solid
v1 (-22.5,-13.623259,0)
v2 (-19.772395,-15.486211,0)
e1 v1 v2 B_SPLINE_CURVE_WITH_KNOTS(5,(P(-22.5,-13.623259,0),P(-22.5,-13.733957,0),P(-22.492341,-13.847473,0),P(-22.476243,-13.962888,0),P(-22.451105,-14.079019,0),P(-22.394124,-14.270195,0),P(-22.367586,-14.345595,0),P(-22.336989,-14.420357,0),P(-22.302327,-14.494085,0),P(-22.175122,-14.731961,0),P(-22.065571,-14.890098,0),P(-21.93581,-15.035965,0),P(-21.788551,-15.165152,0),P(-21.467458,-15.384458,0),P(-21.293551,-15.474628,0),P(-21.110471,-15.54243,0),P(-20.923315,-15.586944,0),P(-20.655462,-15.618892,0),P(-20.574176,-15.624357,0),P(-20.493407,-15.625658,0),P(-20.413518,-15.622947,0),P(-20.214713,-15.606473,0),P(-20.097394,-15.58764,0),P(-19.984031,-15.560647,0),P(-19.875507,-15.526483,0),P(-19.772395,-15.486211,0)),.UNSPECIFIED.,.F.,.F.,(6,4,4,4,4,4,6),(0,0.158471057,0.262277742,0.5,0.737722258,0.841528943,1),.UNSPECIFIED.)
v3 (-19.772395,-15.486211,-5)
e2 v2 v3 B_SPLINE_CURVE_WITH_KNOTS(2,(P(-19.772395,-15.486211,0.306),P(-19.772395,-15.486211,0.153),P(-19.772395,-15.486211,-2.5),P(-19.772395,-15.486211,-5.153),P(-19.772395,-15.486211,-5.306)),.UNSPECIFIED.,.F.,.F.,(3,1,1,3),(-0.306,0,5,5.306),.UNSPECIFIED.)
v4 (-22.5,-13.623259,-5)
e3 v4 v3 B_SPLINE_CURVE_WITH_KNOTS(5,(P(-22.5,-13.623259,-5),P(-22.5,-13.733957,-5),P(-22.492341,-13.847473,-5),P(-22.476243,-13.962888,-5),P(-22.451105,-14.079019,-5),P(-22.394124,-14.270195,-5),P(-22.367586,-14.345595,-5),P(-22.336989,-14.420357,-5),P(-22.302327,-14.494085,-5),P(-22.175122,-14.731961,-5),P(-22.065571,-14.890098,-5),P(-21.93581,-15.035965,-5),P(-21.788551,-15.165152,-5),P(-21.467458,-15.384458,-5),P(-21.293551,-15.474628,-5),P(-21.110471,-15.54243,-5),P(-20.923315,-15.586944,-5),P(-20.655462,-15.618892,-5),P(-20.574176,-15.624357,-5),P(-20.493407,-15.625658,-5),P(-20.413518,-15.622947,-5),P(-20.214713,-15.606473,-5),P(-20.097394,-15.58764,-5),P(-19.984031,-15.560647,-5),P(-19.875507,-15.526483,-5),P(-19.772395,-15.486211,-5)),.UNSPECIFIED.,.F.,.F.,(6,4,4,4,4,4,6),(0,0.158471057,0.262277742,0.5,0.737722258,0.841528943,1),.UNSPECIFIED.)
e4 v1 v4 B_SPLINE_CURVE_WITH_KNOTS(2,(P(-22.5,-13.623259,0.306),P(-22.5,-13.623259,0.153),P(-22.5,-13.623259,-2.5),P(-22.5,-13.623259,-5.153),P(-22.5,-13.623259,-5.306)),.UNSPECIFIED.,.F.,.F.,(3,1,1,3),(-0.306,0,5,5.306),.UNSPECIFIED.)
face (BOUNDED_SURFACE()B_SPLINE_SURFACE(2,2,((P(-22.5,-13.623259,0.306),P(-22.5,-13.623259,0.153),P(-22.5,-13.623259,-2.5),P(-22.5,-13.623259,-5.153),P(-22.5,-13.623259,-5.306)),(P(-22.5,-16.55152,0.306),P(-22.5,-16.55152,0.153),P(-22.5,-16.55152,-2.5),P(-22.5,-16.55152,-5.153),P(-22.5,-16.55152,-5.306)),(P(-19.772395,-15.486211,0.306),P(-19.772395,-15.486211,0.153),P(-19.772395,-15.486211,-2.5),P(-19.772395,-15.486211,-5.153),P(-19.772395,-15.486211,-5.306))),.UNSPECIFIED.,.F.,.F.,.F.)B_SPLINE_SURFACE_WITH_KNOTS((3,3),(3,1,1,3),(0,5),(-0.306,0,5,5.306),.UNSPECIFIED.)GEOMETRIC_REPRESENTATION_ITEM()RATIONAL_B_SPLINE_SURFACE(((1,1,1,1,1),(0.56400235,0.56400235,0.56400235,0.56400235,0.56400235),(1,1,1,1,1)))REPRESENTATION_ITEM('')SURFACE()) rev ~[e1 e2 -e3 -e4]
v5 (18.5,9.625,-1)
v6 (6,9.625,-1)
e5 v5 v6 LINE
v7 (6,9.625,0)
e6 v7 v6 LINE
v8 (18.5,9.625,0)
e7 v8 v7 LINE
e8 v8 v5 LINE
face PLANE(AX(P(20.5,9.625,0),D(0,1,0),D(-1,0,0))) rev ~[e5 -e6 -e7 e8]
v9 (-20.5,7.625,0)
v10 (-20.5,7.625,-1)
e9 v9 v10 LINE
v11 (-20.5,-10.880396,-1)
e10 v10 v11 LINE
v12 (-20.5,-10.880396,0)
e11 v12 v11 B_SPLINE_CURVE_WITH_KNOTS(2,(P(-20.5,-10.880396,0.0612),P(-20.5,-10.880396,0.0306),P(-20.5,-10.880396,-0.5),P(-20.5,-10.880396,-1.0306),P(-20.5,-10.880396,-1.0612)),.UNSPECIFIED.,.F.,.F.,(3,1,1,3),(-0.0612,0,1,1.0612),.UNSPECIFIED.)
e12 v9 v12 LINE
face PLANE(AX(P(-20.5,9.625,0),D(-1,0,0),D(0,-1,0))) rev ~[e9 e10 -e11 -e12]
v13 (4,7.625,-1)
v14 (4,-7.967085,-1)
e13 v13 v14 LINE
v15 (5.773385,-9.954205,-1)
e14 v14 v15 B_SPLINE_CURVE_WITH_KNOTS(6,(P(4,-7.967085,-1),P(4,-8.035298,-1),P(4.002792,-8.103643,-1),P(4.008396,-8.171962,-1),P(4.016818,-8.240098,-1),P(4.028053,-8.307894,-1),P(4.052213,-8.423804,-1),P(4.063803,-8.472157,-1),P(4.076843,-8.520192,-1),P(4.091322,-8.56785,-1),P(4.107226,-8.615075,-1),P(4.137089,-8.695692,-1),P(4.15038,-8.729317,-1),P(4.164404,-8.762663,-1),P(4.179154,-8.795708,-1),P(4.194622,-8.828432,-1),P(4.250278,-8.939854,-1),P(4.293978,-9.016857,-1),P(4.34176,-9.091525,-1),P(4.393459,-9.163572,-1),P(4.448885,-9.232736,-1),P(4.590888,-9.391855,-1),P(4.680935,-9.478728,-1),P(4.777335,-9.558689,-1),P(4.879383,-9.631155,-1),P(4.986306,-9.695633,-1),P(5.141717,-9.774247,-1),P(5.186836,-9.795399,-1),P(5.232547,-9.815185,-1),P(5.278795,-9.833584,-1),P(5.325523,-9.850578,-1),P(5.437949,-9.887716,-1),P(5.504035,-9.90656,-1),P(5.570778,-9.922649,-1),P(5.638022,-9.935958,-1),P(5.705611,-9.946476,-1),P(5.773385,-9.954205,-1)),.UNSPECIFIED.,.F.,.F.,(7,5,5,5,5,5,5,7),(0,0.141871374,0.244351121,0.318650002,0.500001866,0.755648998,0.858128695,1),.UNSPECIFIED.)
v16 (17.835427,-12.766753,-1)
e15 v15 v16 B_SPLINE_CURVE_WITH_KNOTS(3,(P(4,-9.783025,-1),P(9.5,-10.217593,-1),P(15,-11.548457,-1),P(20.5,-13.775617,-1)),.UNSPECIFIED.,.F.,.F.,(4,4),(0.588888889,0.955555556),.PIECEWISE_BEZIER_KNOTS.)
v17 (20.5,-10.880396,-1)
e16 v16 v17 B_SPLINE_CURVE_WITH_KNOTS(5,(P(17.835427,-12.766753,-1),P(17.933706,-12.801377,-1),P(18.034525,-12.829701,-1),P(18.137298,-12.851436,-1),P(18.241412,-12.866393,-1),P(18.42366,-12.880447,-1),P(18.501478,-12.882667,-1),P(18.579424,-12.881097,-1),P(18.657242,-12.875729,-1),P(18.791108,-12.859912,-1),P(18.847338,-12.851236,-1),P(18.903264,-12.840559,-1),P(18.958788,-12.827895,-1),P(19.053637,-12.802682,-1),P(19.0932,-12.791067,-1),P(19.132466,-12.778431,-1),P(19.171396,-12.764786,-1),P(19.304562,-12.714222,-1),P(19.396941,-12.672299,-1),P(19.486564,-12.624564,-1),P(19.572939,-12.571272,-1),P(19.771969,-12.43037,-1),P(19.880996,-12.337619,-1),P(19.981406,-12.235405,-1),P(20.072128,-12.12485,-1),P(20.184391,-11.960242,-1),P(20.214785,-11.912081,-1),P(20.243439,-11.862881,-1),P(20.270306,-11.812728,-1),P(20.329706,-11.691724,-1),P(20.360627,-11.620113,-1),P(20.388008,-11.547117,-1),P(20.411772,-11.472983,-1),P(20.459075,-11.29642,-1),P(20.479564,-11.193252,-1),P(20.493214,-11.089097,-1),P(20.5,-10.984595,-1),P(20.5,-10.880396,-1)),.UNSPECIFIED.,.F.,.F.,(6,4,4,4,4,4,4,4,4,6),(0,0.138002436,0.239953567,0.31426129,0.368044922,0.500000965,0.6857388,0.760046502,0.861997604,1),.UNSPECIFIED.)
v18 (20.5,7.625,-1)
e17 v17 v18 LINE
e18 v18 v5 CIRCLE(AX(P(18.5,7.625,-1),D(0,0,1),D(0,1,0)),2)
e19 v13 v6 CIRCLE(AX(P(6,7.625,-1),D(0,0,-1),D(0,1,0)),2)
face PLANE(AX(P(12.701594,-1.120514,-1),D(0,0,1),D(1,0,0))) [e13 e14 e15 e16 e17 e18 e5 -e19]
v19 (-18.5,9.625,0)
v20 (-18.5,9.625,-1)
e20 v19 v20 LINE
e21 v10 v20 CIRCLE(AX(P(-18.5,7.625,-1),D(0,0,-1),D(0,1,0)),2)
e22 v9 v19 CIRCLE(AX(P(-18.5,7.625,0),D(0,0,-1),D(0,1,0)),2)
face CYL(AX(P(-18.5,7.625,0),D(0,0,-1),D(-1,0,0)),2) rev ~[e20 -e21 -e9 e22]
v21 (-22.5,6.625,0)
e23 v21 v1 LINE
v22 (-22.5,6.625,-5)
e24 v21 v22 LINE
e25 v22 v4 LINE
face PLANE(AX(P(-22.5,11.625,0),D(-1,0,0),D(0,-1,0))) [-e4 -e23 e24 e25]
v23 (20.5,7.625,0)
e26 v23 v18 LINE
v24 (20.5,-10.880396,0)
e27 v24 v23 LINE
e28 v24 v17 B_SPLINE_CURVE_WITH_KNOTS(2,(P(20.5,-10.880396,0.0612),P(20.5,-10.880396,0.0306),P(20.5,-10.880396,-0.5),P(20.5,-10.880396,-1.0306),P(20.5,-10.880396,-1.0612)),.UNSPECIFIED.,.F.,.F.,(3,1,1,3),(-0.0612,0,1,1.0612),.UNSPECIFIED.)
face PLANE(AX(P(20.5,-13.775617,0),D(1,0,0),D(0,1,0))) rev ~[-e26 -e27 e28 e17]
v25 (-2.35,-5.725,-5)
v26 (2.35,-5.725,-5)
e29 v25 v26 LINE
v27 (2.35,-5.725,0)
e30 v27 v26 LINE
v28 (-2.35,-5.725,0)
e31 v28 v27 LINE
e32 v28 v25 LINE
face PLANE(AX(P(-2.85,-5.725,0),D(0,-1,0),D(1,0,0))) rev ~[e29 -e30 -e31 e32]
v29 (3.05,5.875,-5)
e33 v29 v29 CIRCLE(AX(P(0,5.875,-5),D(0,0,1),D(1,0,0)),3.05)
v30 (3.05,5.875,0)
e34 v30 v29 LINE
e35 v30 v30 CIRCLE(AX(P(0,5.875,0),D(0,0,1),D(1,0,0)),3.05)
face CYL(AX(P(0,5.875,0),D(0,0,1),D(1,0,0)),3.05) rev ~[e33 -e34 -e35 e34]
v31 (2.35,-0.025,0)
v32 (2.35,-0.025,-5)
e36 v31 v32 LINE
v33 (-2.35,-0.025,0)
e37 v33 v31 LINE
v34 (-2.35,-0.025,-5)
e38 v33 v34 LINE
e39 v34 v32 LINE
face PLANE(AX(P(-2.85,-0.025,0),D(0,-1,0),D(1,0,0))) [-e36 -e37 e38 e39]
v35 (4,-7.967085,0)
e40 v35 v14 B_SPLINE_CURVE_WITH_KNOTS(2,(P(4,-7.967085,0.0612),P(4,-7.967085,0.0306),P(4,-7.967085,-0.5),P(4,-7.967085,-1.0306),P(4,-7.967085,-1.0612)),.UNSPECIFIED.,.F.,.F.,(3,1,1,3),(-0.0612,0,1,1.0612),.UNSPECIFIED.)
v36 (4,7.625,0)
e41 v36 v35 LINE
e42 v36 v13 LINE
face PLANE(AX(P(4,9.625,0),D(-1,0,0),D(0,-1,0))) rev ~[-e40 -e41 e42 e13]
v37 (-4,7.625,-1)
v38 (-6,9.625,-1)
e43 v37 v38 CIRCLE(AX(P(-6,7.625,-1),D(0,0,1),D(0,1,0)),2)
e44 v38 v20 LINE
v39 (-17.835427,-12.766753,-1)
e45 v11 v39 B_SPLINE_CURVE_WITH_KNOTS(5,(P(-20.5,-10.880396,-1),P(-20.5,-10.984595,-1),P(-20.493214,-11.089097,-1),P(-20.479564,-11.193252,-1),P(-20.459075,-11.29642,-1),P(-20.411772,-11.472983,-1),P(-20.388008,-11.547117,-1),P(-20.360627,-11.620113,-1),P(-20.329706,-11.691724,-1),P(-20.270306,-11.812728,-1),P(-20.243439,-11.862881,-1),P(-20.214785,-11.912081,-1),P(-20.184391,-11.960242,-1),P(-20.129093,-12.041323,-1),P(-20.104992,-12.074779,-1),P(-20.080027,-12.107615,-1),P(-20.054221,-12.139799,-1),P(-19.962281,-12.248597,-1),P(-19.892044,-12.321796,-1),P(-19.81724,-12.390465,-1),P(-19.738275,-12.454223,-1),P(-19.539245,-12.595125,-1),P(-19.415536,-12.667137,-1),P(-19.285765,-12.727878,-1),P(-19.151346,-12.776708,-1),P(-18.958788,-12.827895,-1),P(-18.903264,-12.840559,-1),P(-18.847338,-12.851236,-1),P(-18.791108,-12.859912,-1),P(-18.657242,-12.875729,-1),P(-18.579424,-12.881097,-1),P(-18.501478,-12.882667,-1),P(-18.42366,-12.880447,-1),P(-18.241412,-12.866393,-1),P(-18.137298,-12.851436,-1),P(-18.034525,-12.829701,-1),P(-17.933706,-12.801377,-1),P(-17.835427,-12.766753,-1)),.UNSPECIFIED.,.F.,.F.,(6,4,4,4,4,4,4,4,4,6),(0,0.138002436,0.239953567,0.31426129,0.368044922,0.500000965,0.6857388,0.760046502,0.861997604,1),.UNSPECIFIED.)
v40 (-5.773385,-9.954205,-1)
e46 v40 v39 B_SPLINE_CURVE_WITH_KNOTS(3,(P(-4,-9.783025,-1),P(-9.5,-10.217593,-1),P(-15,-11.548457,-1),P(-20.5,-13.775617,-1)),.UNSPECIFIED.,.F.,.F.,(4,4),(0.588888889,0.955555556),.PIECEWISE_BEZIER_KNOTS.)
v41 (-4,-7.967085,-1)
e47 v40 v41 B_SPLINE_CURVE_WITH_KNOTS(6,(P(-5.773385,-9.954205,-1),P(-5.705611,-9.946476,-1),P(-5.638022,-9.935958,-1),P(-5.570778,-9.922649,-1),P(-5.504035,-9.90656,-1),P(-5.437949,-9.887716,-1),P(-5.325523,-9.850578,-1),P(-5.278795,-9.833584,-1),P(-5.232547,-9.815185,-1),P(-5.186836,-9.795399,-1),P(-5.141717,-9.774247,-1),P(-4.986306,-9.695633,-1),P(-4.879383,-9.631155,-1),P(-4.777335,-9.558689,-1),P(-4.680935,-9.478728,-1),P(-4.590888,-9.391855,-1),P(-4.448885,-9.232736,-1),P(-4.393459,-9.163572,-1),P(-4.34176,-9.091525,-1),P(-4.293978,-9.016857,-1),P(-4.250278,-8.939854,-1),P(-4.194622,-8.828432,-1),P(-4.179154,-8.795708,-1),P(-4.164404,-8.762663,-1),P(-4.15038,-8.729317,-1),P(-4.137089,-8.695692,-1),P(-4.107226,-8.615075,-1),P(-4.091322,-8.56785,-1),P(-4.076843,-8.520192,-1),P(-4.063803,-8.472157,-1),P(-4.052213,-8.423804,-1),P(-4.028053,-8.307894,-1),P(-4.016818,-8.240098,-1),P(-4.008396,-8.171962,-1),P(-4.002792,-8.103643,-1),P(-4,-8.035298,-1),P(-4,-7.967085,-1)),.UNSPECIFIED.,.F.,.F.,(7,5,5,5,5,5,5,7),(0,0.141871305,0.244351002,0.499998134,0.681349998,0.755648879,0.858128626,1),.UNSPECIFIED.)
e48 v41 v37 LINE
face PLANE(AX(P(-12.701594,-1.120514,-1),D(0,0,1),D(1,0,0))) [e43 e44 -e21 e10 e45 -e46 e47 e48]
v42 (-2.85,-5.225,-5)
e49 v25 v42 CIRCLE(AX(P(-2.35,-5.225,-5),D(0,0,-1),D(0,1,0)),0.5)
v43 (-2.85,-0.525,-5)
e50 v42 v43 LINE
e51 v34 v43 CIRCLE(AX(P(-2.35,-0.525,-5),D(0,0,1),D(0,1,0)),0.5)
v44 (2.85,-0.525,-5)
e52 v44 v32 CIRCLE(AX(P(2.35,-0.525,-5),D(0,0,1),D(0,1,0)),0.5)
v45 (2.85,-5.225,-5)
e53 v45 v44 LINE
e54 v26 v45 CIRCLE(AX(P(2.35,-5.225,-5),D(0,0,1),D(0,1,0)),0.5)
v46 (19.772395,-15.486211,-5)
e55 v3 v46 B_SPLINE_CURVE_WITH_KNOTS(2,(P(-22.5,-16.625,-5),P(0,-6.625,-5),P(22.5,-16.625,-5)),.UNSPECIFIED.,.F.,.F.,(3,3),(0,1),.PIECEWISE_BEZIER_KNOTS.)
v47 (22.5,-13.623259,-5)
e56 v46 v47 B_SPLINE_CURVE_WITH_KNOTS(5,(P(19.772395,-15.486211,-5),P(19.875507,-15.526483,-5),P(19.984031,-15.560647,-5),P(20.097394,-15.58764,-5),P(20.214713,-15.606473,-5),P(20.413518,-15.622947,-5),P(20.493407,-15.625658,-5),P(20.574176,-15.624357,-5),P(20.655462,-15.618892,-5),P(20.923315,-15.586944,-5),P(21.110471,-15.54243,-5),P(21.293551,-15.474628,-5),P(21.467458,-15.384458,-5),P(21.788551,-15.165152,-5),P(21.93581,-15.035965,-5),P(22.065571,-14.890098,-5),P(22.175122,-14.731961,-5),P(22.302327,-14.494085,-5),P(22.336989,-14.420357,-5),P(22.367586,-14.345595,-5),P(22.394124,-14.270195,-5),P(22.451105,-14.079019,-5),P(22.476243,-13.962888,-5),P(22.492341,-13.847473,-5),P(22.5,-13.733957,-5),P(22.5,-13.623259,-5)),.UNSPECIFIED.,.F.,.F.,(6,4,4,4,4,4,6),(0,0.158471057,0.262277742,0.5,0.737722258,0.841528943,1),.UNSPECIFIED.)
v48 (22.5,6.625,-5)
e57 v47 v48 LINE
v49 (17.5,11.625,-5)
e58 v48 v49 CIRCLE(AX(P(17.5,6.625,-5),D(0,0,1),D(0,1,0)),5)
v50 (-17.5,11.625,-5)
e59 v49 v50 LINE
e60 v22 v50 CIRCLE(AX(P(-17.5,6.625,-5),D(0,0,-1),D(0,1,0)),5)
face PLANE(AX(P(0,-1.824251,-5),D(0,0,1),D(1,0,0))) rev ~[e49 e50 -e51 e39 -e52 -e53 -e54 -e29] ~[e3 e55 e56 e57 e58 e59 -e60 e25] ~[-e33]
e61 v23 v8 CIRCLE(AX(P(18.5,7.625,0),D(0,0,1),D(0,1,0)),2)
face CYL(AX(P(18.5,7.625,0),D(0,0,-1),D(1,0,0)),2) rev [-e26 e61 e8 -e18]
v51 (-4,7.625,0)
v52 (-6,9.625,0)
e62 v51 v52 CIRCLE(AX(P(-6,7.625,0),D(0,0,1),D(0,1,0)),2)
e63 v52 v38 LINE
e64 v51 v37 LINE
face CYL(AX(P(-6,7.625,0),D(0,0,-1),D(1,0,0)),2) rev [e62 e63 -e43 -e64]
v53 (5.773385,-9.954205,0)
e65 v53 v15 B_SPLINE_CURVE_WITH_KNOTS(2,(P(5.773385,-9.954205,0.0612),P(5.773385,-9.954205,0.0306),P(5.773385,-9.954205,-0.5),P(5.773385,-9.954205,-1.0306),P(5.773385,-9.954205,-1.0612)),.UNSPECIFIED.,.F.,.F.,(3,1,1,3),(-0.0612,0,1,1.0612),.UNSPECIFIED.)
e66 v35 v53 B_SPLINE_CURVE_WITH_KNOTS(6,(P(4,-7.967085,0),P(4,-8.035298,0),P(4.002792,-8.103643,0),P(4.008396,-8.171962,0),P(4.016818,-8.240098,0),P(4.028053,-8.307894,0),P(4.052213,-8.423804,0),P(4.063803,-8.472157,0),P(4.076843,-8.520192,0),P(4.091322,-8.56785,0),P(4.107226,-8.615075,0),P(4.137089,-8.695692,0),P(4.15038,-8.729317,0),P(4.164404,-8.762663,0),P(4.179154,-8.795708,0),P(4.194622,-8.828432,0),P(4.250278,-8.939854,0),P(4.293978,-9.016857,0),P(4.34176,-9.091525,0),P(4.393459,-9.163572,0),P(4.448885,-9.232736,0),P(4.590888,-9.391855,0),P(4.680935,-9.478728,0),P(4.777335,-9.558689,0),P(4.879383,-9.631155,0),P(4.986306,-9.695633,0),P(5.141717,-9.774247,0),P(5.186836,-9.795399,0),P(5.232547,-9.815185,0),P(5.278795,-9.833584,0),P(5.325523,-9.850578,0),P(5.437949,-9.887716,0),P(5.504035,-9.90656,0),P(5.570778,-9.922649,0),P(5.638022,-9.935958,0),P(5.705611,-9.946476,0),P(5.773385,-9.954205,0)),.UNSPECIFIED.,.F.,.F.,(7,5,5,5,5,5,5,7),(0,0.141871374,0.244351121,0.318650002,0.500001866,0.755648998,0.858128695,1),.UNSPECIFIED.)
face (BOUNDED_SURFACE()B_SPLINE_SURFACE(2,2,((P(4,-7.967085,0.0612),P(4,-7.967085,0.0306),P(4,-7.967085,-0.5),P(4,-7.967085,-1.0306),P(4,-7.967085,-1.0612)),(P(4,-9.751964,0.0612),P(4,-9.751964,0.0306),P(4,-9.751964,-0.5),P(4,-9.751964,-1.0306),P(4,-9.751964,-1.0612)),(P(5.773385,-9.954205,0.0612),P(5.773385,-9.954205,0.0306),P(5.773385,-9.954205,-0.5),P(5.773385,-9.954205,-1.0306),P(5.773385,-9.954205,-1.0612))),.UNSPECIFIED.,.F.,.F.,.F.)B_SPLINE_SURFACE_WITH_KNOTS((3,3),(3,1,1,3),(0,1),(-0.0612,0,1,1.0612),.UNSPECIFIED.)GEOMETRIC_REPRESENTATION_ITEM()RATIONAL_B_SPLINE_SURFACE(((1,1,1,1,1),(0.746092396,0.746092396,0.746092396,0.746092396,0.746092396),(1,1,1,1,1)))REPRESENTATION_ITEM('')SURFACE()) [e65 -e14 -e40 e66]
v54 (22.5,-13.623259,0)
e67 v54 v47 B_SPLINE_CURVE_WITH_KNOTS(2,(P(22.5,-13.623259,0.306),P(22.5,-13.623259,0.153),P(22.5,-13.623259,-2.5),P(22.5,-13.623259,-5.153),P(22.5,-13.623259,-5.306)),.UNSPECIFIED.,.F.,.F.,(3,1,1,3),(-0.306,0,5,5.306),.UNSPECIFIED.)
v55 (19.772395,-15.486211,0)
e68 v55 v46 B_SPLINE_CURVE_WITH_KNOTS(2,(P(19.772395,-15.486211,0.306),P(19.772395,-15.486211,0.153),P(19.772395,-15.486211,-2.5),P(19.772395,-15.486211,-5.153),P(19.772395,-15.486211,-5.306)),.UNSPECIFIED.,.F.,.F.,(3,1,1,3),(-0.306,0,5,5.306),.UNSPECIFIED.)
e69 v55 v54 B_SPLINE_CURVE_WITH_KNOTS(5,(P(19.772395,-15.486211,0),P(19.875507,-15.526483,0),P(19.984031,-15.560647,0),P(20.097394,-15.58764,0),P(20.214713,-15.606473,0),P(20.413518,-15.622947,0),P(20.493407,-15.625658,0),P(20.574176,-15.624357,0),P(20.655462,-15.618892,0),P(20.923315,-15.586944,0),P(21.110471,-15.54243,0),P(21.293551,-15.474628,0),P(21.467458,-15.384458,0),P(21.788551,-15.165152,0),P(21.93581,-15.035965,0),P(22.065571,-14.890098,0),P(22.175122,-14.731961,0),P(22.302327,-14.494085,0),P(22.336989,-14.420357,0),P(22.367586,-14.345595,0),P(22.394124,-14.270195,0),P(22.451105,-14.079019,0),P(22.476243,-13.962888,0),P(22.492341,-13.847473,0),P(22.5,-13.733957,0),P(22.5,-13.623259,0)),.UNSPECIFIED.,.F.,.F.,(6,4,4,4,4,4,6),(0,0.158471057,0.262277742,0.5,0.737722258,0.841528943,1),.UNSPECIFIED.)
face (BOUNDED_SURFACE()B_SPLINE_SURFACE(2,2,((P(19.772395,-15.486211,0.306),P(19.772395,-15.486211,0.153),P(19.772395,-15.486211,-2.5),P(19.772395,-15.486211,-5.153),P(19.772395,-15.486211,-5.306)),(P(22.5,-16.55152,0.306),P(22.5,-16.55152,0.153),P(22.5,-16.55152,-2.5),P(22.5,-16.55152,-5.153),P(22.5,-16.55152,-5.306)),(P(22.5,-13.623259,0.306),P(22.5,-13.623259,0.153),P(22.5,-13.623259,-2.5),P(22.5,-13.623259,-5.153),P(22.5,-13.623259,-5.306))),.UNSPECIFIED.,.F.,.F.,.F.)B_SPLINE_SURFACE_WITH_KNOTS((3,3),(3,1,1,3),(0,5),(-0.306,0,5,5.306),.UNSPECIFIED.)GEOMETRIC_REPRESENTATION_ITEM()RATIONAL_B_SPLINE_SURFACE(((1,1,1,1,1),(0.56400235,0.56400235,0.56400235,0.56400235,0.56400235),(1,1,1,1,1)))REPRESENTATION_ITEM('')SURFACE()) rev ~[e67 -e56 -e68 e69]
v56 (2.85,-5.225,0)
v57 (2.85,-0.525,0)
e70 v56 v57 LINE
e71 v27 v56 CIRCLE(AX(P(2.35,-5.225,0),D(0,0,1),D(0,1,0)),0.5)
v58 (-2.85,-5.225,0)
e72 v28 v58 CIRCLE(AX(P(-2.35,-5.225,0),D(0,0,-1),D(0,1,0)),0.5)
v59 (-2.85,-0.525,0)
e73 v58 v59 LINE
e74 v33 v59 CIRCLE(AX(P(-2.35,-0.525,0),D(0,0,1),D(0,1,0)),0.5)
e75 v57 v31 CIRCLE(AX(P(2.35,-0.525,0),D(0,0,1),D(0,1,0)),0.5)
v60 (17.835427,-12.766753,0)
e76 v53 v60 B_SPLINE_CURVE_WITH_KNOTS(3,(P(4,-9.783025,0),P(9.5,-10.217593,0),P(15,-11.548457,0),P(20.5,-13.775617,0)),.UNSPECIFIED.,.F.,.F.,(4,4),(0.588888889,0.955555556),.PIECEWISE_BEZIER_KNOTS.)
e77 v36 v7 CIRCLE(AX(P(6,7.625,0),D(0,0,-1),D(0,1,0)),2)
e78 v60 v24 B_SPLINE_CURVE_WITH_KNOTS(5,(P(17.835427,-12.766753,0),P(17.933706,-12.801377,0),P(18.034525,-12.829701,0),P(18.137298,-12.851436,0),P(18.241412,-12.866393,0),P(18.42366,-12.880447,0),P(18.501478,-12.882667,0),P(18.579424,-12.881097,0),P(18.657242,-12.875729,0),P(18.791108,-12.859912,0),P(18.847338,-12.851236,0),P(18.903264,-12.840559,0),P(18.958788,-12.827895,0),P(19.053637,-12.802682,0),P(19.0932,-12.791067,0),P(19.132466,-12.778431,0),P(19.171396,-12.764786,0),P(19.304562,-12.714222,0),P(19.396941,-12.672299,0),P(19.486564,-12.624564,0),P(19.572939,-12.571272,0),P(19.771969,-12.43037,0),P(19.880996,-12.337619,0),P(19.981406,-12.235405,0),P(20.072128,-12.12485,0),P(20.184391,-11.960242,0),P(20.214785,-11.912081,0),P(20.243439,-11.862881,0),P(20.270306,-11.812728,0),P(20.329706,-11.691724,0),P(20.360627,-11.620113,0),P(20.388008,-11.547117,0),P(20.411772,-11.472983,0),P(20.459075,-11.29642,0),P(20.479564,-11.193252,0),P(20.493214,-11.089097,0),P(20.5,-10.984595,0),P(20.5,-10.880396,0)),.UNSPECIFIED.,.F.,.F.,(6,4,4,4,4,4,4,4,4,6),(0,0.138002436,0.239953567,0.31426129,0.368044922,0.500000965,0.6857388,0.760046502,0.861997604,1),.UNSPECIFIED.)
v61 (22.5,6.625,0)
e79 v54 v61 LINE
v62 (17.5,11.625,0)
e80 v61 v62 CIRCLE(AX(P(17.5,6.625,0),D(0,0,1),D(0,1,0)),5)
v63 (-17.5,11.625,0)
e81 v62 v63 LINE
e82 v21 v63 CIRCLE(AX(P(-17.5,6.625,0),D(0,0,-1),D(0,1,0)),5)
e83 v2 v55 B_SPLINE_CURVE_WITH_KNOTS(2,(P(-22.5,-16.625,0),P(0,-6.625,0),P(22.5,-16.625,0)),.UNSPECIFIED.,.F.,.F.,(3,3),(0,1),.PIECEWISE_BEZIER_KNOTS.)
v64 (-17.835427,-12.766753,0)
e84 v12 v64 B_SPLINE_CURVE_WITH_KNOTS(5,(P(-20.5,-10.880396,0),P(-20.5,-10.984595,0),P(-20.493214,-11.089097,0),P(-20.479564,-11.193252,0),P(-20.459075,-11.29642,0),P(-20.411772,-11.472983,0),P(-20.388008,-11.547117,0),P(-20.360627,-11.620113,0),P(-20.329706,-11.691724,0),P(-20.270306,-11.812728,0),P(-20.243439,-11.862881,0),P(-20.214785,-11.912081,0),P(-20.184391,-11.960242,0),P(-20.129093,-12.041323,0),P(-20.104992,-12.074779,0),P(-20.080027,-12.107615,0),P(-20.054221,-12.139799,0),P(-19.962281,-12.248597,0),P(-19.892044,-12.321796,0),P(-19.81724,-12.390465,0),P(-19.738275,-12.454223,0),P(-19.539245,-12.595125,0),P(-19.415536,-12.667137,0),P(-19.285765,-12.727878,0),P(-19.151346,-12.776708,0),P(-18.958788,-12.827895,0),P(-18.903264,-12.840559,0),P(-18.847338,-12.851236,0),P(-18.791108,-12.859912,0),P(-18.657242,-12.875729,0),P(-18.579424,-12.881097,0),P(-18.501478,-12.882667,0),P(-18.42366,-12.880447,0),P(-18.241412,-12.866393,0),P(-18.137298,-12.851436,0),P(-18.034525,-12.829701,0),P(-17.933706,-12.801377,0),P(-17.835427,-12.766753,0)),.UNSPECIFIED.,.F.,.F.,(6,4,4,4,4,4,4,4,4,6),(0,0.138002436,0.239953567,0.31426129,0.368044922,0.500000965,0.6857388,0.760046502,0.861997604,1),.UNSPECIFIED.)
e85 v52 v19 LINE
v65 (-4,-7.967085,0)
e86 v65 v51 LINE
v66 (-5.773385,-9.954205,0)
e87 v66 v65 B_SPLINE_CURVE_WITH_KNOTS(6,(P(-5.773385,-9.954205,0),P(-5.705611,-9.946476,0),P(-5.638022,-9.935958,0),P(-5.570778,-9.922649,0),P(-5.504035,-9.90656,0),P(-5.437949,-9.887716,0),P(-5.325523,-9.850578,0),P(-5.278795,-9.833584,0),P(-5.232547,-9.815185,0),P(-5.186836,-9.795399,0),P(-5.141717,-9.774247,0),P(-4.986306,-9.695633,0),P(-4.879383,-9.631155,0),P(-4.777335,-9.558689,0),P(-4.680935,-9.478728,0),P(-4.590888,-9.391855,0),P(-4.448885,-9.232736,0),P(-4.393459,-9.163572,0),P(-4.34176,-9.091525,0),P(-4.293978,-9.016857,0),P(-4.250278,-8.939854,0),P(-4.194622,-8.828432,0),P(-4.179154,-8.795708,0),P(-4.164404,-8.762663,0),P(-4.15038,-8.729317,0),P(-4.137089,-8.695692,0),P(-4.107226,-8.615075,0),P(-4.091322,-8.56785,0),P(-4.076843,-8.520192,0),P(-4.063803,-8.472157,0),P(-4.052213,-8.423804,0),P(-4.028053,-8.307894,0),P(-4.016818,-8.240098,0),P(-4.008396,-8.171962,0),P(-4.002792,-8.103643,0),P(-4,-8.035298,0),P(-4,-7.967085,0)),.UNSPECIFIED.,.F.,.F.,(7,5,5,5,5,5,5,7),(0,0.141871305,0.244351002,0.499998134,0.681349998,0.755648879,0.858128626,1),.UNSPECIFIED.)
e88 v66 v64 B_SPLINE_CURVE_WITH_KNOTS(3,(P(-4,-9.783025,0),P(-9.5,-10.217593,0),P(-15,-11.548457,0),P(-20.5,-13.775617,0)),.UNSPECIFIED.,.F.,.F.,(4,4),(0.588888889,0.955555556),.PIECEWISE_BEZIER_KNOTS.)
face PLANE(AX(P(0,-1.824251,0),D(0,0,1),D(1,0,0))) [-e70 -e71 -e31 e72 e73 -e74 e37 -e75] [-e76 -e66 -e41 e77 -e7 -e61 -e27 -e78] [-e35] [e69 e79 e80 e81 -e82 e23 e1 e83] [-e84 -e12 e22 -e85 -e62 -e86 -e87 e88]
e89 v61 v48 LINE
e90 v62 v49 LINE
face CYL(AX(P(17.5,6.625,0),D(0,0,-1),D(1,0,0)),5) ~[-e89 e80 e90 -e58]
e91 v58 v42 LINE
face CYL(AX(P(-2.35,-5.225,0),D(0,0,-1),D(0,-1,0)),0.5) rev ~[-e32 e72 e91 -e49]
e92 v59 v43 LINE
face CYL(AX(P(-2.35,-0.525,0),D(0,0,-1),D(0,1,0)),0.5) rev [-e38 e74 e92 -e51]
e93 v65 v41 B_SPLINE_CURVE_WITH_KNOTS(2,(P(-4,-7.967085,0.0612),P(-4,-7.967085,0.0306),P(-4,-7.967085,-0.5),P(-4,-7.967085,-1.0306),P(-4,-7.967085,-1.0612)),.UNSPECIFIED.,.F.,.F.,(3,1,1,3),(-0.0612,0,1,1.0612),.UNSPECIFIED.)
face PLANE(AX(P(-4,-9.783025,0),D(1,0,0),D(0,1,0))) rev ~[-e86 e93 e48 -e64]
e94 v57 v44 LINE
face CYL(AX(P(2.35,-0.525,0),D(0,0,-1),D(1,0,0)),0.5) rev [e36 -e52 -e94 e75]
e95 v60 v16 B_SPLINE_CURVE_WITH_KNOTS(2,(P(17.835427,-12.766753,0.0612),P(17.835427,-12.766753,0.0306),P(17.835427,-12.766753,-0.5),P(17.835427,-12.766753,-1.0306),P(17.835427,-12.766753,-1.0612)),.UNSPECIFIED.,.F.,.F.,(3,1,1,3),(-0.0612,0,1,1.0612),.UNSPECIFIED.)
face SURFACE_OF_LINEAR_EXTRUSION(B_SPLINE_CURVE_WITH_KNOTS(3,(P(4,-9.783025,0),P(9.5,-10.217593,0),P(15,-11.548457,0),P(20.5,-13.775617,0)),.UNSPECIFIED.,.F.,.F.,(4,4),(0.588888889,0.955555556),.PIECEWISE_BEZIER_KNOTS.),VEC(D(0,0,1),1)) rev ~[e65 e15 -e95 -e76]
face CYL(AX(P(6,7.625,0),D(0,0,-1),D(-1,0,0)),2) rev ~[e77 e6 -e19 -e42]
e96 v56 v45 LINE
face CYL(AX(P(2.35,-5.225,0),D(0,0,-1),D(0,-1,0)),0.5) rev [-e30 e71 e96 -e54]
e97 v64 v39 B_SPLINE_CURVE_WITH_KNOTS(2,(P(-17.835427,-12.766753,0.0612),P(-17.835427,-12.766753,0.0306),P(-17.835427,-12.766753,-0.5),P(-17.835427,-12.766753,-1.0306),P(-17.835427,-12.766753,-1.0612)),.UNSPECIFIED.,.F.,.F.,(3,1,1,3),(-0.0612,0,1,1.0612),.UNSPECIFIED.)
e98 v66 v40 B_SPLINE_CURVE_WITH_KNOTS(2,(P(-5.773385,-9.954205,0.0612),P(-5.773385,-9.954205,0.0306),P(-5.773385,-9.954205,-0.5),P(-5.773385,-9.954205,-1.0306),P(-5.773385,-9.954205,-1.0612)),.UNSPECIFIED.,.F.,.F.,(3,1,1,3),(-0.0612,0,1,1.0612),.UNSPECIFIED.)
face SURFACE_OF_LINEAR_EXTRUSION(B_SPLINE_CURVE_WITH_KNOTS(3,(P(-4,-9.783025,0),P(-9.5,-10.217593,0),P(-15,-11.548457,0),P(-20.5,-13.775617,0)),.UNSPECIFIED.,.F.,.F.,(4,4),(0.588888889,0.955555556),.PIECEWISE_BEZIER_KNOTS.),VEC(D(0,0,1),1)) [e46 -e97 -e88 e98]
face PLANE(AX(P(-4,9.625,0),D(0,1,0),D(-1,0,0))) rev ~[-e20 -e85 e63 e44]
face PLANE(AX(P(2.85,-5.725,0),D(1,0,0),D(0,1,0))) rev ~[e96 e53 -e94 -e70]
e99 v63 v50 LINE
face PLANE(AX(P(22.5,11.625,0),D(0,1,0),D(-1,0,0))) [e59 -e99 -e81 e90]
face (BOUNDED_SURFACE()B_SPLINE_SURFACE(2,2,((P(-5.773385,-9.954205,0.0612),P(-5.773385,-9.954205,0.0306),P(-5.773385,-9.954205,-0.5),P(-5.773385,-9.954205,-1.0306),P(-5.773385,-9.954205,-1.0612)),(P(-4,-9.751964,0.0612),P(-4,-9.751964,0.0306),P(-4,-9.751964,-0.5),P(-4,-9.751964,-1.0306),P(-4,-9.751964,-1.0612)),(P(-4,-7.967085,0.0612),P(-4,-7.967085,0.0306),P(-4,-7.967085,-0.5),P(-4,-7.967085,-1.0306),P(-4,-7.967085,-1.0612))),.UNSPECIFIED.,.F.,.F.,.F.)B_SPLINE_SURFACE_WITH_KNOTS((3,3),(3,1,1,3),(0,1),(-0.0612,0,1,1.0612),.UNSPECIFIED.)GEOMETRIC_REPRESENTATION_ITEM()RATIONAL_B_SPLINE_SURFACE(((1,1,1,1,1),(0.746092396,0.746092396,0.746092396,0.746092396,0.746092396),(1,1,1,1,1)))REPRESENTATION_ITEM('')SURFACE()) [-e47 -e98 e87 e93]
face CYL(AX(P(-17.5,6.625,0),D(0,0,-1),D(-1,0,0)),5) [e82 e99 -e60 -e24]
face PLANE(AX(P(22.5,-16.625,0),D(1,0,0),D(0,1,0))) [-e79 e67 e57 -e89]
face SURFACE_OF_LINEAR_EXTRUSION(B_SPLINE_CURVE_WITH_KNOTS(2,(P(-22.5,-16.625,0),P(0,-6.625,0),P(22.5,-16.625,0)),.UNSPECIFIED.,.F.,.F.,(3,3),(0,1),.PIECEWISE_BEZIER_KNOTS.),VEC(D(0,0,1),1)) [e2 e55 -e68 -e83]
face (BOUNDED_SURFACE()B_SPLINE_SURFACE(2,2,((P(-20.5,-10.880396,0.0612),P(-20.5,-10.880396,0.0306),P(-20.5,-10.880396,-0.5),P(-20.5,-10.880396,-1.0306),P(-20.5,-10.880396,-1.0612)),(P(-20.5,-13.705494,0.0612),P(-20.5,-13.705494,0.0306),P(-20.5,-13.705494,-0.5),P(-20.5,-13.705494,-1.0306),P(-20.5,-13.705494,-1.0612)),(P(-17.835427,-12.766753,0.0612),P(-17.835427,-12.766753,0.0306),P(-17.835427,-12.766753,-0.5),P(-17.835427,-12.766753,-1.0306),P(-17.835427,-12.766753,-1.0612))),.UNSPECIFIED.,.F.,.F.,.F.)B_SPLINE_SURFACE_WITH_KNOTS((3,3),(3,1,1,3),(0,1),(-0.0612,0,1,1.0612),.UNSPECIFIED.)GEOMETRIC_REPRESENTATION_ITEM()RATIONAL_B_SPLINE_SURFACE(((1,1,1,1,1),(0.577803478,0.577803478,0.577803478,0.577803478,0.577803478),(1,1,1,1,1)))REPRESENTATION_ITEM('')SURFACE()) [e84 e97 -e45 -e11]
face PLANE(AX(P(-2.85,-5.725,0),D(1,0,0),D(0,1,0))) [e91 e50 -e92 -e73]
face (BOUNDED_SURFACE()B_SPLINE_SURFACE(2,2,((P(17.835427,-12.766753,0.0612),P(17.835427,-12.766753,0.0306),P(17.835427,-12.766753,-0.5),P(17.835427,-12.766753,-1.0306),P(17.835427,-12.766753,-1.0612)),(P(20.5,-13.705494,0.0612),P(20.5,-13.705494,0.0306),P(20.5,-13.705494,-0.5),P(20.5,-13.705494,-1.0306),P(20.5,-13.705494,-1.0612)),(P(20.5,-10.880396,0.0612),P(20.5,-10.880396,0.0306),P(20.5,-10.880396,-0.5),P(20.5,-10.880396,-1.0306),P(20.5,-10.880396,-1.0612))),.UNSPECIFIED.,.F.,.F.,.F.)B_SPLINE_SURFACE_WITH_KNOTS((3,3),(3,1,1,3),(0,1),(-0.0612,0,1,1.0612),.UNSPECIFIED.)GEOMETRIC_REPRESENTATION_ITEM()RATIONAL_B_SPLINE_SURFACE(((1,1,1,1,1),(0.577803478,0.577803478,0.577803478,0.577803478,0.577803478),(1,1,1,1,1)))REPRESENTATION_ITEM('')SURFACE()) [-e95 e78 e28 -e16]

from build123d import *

# Parameters (mm, degrees)
BOSS_EXTRUDE1_DEPTH = 5
SKETCH2_R           = 3.05
SKETCH2_W           = 5.7
SKETCH2_H           = 5.7
CUT_EXTRUDE1_DEPTH  = 29.419018875
FILLET1_R           = 0.5
CUT_EXTRUDE2_DEPTH  = 1
FILLET2_R           = 5
FILLET3_R           = 2
FILLET4_R           = 2


with BuildPart() as part:
    # Sketch1 → Boss-Extrude1 (new body)
    with BuildSketch(Plane.XY):
        with BuildLine():
            Line((-22.5, -11.625), (-22.5, -16.625))
            add(Edge.make_bspline(
                [(-22.5, -16.625), (0, -6.625), (22.5, -16.625)],
                knots=[0, 0, 0, 1, 1, 1], degree=2))
            Line((22.5, -16.625), (22.5, -11.625))
            Line((22.5, -11.625), (22.5, 11.625))
            Line((22.5, 11.625), (-22.5, 11.625))
            Line((-22.5, 11.625), (-22.5, -11.625))
        make_face()
    extrude(amount=-BOSS_EXTRUDE1_DEPTH)

    # Sketch2 → Cut-Extrude1 (cut, through all)
    with BuildSketch(Plane.XY):
        with Locations((0, 5.875)):
            Circle(SKETCH2_R)
        with Locations((0, -2.875)):
            Rectangle(SKETCH2_W, SKETCH2_H)
    extrude(amount=-CUT_EXTRUDE1_DEPTH, mode=Mode.SUBTRACT)

    # Fillet1
    fillet1_edges = [part.edges().sort_by_distance(p)[0] for p in [
        (2.85, -0.025, -2.5),
        (2.85, -5.725, -2.5),
        (-2.85, -5.725, -2.5),
        (-2.85, -0.025, -2.5),
    ]]
    fillet(fillet1_edges, radius=FILLET1_R)

    # Sketch3 → Cut-Extrude2 (cut)
    with BuildSketch(Plane.XY):
        with BuildLine():
            Line((-20.5, 9.625), (-20.5, -13.775617284))
            add(Edge.make_bspline(
                [(-4, -9.783024691), (-9.5, -10.217592593), (-15, -11.54845679), (-20.5, -13.775617284)],
                knots=[0.588888889, 0.588888889, 0.588888889, 0.588888889, 0.955555556, 0.955555556, 0.955555556, 0.955555556], degree=3))
            Line((-4, -9.783024691), (-4, 9.625))
            Line((-4, 9.625), (-20.5, 9.625))
        make_face()
        with BuildLine():
            Line((4, 9.625), (4, -9.783024691))
            add(Edge.make_bspline(
                [(4, -9.783024691), (9.5, -10.217592593), (15, -11.54845679), (20.5, -13.775617284)],
                knots=[0.588888889, 0.588888889, 0.588888889, 0.588888889, 0.955555556, 0.955555556, 0.955555556, 0.955555556], degree=3))
            Line((20.5, -13.775617284), (20.5, 9.625))
            Line((20.5, 9.625), (4, 9.625))
        make_face()
    extrude(amount=-CUT_EXTRUDE2_DEPTH, mode=Mode.SUBTRACT)

    # Fillet2
    fillet2_edges = [part.edges().sort_by_distance(p)[0] for p in [
        (-22.5, 11.625, -2.5),
        (22.5, 11.625, -2.5),
    ]]
    fillet(fillet2_edges, radius=FILLET2_R)

    # Fillet3
    fillet3_edges = [part.edges().sort_by_distance(p)[0] for p in [
        (22.5, -16.625, -2.5),
        (-22.5, -16.625, -2.5),
    ]]
    fillet(fillet3_edges, radius=FILLET3_R)

    # Fillet4
    fillet4_edges = [part.edges().sort_by_distance(p)[0] for p in [
        (20.5, -13.775617284, -0.5),
        (4, -9.783024691, -0.5),
        (20.5, 9.625, -0.5),
        (4, 9.625, -0.5),
        (-4, 9.625, -0.5),
        (-20.5, 9.625, -0.5),
        (-4, -9.783024691, -0.5),
        (-20.5, -13.775617284, -0.5),
    ]]
    fillet(fillet4_edges, radius=FILLET4_R)


solid = part.part
